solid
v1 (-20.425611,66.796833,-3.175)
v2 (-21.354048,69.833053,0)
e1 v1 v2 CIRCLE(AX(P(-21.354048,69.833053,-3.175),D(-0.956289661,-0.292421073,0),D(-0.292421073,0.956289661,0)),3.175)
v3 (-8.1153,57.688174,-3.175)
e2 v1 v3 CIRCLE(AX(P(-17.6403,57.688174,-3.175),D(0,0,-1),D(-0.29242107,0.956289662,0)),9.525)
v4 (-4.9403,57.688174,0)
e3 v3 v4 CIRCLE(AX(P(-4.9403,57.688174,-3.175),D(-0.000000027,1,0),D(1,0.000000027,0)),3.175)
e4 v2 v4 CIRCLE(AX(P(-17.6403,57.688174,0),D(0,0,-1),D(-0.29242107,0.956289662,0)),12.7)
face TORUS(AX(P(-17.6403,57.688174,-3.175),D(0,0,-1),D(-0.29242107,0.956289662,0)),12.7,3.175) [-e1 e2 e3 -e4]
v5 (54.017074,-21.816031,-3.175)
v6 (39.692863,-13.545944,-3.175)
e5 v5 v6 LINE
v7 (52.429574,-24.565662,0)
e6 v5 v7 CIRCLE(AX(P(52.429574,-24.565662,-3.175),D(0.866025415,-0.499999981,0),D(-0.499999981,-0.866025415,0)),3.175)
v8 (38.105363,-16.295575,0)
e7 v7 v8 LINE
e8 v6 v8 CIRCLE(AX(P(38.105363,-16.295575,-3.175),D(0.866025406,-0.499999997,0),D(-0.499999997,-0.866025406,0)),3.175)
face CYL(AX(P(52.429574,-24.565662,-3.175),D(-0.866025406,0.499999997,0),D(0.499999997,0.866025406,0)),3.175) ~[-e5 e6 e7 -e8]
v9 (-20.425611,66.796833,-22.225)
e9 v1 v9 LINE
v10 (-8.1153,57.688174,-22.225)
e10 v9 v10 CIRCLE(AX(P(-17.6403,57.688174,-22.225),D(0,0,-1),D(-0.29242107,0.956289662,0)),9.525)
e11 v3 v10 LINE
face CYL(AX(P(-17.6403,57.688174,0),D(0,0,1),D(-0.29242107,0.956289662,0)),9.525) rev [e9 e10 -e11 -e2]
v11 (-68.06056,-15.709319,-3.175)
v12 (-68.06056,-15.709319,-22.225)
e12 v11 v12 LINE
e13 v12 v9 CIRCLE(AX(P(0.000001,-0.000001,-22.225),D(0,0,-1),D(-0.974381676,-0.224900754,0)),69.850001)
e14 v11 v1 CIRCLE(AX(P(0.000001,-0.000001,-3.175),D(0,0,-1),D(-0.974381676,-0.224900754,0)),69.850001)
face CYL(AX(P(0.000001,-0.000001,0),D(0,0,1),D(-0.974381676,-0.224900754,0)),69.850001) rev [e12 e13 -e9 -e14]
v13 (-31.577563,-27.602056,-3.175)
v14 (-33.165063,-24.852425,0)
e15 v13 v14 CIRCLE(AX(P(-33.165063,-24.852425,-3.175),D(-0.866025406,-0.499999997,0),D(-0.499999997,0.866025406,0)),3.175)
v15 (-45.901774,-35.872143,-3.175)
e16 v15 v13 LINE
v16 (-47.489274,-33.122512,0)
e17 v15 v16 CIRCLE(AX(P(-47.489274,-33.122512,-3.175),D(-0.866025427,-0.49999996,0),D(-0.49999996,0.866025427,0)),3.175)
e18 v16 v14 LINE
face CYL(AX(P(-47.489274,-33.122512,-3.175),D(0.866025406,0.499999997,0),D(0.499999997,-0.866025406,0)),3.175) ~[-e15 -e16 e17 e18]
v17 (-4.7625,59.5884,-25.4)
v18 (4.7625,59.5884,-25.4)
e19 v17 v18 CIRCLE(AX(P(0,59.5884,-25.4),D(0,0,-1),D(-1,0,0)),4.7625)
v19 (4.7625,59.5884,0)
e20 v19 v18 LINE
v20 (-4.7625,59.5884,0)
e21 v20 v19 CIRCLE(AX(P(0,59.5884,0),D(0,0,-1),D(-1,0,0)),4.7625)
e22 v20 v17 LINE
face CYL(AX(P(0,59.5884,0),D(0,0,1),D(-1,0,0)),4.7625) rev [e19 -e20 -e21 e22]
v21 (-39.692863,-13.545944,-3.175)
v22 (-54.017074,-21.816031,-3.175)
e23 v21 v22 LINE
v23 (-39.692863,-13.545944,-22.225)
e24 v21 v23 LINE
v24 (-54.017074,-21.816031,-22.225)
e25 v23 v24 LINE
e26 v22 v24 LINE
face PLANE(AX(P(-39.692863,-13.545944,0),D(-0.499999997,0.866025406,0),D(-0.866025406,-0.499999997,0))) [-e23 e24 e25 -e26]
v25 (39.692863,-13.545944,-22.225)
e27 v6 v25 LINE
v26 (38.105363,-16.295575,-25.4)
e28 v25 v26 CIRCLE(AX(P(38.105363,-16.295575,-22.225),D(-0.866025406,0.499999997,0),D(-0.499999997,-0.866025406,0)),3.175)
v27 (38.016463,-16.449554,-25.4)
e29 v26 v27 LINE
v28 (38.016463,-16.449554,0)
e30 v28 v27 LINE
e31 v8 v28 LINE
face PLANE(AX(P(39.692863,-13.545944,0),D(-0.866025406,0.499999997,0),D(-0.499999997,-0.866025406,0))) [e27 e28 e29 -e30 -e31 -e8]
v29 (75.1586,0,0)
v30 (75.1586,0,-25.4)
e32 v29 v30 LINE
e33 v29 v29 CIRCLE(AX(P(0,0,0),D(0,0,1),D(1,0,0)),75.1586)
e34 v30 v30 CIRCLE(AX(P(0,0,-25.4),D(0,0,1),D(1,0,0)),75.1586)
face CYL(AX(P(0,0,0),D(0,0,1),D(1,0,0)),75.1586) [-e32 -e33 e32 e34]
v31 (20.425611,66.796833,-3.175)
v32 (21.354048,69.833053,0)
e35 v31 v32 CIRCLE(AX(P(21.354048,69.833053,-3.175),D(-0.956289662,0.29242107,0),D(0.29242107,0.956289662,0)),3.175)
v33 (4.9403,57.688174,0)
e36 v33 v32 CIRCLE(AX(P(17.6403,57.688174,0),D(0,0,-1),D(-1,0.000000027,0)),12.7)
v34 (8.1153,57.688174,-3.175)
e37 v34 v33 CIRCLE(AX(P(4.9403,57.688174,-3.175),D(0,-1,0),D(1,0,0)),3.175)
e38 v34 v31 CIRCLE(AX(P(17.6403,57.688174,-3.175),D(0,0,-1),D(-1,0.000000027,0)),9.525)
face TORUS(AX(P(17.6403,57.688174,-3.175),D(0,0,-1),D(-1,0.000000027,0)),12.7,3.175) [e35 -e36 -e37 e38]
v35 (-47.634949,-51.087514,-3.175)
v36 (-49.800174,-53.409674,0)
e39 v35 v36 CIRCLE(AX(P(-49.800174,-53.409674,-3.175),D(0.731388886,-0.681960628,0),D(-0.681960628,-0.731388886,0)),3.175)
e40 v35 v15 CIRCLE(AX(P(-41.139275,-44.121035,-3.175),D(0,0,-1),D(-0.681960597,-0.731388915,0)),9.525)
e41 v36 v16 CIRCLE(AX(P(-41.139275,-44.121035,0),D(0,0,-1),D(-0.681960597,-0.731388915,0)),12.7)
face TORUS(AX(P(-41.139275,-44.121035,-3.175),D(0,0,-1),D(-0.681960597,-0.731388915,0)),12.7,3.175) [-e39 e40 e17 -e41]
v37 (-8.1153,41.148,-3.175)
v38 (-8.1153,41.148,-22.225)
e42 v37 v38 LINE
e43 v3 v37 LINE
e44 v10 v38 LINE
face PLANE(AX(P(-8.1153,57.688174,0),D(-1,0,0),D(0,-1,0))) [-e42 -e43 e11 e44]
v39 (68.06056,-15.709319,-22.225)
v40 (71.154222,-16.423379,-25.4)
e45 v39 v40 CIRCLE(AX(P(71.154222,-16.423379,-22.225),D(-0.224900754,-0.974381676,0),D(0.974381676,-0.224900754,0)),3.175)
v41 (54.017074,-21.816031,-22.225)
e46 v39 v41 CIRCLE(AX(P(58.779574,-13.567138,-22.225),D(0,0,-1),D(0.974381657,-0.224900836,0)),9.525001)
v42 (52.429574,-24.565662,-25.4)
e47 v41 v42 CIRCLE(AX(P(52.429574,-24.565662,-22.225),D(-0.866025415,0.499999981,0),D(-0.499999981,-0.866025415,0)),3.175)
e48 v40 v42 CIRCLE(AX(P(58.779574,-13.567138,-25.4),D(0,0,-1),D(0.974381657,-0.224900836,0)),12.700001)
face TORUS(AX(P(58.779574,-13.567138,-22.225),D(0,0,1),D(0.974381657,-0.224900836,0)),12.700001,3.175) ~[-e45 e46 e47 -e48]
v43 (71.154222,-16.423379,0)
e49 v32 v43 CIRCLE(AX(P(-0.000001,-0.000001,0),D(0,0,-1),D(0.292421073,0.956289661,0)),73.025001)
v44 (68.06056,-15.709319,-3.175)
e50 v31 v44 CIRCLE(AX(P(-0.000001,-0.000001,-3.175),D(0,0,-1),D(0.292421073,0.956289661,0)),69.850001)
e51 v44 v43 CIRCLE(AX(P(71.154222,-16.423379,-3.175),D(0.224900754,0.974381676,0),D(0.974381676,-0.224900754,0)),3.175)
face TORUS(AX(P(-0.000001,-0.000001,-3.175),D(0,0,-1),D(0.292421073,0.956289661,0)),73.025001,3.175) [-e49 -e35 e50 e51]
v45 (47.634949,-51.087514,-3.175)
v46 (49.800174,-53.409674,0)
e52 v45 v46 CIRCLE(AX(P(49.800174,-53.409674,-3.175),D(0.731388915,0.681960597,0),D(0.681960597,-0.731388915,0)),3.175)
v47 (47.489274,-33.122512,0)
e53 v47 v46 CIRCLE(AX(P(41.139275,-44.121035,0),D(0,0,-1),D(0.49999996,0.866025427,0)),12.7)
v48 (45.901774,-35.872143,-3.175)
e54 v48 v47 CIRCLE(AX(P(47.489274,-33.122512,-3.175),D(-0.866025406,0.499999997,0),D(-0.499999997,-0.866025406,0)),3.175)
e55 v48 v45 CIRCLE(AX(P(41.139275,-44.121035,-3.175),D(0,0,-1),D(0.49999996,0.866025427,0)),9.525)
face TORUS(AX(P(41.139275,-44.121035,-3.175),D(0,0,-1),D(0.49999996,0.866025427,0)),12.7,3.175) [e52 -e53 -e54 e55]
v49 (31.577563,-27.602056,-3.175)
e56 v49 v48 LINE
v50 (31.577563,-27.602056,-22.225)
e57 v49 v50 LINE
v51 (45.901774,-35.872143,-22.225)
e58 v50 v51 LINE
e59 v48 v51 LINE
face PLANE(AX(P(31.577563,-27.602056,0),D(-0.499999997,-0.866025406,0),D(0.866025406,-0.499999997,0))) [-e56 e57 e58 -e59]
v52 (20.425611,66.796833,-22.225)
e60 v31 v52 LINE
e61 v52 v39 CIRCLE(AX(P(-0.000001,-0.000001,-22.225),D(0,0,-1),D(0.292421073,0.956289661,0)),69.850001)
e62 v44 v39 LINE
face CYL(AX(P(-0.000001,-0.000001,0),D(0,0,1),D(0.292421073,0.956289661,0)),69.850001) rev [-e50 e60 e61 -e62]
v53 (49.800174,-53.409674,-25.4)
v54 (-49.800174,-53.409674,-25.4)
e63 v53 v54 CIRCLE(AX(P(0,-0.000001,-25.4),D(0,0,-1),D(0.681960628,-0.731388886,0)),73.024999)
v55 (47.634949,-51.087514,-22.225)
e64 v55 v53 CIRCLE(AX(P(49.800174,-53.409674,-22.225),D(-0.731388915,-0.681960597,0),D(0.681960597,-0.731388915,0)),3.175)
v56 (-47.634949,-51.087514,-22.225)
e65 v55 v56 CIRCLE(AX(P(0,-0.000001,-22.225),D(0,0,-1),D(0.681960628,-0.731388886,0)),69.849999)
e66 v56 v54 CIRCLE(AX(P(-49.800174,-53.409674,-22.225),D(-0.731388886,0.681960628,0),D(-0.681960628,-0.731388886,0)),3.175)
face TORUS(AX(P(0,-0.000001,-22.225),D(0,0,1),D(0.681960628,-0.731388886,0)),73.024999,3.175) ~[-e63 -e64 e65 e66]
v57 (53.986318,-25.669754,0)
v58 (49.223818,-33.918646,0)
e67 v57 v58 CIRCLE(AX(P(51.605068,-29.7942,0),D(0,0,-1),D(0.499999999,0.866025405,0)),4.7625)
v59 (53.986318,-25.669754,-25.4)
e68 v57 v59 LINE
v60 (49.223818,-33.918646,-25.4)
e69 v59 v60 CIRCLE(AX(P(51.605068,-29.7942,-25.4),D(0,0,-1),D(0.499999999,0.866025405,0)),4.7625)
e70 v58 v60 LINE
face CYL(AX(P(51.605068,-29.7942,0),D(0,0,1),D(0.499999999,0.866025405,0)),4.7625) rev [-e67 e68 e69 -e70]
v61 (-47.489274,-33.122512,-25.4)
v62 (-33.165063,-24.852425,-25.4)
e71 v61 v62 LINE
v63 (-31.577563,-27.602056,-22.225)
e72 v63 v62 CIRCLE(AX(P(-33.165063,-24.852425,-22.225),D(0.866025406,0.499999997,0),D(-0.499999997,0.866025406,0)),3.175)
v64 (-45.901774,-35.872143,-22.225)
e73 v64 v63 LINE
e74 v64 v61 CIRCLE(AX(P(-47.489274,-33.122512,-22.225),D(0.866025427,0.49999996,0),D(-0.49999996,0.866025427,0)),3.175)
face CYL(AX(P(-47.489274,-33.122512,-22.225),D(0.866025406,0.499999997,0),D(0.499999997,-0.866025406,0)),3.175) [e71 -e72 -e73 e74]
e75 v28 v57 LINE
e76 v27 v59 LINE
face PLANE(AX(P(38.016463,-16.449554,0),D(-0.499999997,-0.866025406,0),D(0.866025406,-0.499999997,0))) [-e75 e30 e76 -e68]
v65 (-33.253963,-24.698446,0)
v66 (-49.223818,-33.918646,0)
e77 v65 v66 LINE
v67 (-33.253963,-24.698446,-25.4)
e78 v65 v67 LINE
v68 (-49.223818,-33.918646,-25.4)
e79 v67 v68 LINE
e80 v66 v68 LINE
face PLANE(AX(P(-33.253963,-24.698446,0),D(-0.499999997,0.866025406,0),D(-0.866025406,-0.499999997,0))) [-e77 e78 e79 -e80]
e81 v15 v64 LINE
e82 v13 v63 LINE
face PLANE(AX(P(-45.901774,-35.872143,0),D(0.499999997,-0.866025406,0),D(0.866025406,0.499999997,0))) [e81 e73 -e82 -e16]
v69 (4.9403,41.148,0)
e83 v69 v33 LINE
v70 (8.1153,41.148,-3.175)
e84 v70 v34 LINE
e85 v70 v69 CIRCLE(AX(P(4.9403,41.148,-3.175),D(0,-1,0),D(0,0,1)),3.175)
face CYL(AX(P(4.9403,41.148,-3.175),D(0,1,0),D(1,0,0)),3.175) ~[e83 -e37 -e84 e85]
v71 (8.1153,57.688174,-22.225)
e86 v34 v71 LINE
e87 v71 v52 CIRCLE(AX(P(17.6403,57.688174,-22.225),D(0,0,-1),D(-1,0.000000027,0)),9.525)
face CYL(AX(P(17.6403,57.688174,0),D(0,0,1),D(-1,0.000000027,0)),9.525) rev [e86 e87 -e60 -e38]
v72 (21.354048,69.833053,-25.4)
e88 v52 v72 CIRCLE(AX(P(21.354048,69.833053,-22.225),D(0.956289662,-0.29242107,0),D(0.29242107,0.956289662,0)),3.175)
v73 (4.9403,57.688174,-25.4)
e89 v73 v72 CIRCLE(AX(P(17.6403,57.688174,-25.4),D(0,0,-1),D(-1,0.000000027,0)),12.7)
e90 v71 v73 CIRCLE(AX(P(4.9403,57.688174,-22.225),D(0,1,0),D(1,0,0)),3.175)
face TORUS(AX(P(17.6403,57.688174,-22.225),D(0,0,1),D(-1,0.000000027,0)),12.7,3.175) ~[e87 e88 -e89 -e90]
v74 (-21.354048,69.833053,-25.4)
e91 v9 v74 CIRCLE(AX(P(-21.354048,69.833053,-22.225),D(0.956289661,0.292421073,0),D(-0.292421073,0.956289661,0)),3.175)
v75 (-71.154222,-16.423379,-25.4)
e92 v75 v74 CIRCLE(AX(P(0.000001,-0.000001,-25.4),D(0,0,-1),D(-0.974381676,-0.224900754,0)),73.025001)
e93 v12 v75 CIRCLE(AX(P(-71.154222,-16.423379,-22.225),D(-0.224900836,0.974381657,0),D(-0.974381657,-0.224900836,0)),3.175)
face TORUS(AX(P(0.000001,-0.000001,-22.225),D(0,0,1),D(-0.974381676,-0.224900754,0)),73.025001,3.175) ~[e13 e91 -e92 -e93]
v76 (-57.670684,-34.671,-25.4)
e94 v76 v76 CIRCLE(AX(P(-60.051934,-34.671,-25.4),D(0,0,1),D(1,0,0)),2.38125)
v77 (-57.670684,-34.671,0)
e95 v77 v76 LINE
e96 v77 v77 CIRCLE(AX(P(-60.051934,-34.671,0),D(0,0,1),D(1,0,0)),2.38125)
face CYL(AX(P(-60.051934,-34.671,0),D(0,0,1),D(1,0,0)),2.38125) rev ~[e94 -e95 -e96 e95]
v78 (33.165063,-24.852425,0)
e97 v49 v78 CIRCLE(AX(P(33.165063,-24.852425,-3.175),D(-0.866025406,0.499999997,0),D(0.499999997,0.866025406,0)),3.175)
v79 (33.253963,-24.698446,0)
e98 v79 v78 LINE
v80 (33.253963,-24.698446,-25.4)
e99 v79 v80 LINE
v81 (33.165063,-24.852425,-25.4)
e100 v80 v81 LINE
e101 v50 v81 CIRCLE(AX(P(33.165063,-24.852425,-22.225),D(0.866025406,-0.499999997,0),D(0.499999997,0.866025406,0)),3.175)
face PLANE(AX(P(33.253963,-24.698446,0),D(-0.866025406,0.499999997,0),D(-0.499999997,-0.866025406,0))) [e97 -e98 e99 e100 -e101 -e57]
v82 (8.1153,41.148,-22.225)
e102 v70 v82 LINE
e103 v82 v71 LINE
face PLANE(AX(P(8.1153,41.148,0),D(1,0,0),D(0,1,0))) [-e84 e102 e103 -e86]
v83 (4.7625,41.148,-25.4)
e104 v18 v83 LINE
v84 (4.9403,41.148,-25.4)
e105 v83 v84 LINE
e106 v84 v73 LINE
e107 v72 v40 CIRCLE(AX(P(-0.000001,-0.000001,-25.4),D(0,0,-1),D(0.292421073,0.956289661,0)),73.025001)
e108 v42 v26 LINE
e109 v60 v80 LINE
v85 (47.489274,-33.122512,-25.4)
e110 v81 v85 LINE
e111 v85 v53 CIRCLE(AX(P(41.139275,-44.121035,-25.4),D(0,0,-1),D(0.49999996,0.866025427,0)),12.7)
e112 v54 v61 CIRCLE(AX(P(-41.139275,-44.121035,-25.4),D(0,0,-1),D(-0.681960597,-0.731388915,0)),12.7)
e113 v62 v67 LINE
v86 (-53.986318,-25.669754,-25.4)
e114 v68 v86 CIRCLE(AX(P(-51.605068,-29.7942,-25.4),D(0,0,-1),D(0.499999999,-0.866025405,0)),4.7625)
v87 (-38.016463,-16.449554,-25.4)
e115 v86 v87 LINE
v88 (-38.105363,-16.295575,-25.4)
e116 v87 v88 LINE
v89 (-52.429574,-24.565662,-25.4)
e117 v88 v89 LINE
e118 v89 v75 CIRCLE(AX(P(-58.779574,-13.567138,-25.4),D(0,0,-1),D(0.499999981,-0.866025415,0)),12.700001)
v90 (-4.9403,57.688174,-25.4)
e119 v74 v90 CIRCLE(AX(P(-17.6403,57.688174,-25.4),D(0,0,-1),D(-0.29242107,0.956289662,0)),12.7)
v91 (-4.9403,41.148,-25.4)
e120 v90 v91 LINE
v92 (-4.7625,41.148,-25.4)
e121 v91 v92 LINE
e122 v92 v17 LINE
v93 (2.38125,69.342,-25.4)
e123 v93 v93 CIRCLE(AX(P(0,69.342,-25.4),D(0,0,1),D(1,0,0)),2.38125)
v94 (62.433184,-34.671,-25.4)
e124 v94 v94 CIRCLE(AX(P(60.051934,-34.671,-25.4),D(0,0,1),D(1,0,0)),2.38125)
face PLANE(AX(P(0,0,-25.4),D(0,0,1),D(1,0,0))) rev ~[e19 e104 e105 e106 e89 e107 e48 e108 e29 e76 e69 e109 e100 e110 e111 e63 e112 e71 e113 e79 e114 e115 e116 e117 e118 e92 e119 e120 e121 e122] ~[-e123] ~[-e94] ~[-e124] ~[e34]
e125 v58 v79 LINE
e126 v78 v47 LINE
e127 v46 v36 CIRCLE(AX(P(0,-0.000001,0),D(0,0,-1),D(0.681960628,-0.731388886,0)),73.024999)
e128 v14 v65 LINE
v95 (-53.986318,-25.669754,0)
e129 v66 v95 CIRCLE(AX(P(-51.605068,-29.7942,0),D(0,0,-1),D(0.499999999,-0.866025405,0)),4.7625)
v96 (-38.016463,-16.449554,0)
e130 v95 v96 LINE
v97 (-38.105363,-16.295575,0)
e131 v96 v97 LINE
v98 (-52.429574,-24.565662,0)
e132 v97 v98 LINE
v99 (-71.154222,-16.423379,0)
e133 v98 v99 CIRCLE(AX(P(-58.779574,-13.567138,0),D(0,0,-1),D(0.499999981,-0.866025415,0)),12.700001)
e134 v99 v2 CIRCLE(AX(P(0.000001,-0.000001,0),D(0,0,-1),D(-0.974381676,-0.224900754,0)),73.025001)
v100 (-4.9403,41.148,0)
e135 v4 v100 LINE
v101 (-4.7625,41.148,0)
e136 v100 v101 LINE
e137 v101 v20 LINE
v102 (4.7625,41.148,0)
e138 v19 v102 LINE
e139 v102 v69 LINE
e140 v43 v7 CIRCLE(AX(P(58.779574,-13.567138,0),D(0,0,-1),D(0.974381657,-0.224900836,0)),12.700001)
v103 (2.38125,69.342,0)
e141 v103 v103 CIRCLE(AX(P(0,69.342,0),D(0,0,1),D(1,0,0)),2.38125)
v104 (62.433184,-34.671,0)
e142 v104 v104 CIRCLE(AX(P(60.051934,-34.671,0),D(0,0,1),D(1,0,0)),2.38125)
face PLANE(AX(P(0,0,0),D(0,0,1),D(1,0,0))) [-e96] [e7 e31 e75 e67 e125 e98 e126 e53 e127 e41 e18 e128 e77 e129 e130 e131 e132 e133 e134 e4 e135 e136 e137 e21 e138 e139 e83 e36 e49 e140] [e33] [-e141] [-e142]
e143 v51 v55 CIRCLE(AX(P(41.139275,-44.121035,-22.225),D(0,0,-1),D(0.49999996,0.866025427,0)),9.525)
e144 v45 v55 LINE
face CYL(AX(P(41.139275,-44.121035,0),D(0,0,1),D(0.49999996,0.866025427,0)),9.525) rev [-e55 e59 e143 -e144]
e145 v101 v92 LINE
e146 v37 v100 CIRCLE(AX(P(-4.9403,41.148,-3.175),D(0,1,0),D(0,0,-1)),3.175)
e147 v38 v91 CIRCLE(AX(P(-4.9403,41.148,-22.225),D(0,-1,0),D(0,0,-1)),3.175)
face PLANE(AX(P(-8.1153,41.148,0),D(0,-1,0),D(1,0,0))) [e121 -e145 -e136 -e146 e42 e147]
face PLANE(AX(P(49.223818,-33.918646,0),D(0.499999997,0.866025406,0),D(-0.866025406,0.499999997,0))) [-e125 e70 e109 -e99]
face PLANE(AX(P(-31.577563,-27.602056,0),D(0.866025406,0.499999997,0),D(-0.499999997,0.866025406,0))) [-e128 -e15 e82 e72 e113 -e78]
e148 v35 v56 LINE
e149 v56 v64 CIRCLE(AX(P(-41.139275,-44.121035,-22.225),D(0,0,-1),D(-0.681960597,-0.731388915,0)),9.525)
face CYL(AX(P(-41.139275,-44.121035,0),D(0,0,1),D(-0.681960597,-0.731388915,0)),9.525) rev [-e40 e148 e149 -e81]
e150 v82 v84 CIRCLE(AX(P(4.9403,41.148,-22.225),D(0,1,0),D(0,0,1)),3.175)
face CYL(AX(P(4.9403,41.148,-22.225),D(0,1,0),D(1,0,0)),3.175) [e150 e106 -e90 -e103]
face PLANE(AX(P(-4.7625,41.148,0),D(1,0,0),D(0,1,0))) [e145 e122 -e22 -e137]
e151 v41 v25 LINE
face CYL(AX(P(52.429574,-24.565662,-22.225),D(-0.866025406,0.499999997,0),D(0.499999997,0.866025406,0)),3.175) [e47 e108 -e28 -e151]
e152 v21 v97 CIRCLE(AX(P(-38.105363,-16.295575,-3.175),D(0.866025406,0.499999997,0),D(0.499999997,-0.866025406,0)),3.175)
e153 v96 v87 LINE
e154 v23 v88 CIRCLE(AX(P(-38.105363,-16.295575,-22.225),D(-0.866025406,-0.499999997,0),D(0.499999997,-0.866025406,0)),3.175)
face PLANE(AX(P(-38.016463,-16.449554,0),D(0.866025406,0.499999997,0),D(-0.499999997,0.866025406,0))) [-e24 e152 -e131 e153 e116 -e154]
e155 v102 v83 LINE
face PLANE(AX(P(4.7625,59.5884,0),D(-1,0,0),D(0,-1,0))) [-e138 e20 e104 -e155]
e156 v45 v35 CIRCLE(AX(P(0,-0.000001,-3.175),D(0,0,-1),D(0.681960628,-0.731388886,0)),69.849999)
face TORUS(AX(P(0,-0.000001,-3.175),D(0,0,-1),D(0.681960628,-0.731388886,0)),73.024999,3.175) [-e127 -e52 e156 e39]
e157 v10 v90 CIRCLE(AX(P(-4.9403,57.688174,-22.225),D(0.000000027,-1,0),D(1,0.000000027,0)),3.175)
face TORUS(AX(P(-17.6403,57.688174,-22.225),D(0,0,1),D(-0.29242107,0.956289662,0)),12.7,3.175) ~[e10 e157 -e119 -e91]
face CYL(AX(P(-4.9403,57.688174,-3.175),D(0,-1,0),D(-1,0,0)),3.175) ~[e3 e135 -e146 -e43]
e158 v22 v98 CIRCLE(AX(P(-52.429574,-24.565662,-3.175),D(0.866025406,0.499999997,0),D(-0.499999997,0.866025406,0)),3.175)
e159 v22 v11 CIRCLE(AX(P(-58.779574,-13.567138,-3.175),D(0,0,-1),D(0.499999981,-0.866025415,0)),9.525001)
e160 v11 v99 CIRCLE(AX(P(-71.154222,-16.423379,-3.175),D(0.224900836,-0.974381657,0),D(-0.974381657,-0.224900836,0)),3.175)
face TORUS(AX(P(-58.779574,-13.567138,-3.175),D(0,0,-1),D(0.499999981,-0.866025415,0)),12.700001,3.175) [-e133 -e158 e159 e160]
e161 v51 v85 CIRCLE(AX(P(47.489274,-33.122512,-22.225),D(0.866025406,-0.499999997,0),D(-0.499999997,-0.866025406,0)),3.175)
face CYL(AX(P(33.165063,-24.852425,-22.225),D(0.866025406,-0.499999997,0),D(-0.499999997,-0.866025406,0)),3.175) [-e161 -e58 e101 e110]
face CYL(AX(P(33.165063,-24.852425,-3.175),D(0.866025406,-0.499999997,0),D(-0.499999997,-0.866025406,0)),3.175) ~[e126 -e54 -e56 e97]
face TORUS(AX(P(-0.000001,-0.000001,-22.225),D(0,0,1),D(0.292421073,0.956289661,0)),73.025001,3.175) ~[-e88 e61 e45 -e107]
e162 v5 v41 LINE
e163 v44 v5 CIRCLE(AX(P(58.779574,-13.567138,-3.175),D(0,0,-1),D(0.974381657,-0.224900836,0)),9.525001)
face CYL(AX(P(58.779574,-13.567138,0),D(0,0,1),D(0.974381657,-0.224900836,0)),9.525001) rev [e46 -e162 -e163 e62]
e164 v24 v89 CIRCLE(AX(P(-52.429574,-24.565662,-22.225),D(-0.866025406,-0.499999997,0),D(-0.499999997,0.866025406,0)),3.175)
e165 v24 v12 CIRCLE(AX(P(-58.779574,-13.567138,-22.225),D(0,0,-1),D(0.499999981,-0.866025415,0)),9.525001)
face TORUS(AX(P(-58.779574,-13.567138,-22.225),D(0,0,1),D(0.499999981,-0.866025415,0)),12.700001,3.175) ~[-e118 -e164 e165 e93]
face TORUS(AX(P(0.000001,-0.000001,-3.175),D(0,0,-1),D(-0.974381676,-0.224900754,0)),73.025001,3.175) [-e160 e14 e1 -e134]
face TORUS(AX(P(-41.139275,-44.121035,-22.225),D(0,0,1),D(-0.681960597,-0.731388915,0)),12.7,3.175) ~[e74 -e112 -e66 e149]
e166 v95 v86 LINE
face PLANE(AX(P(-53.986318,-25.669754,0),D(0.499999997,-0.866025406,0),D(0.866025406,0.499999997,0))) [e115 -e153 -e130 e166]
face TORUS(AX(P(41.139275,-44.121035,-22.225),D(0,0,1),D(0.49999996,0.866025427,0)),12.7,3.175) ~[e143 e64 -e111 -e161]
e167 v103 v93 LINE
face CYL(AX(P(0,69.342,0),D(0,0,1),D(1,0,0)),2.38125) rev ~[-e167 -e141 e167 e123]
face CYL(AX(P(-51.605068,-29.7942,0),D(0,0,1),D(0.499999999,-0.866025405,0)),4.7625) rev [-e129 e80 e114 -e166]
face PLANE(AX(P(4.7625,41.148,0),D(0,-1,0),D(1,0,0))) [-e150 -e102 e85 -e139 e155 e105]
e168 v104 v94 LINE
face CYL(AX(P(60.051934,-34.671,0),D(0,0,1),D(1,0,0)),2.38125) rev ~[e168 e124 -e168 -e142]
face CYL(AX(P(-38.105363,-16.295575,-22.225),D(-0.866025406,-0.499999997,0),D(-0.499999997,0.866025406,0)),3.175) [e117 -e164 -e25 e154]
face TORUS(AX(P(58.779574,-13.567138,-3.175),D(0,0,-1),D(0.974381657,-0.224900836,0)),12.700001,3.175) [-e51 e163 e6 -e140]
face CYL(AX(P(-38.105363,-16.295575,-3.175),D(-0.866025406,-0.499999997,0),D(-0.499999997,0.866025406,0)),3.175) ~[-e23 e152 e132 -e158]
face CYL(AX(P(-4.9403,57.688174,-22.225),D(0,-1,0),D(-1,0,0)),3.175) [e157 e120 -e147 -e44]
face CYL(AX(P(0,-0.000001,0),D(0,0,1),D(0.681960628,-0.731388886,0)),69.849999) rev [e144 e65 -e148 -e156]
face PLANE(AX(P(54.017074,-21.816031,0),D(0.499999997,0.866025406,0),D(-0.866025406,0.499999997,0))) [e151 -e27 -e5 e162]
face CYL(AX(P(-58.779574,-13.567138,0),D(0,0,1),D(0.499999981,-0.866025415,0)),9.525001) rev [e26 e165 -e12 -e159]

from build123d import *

# Parameters (mm, degrees)
F0_R     = 75.1586
F0_R_2   = 2.38125
F1_DEPTH = 25.4
F2_R     = 3.175


with BuildPart() as f1:
    # F0 (on Top) → F1 (new body)
    with BuildSketch(Plane.XY):
        Circle(F0_R)
        with Locations((-60.051934, -34.671)):
            Circle(F0_R_2, mode=Mode.SUBTRACT)
        with BuildLine():
            ThreePointArc((-68.06056, -15.709319), (-60.491874, 34.925), (-20.425611, 66.796833))
            ThreePointArc((-20.425611, 66.796833), (-11.974811, 65.345057), (-8.1153, 57.688174))
            Line((-8.1153, 57.688174), (-8.1153, 41.148))
            Line((-8.1153, 41.148), (-4.7625, 41.148))
            Line((-4.7625, 41.148), (-4.7625, 59.5884))
            ThreePointArc((-4.7625, 59.5884), (0, 64.3509), (4.7625, 59.5884))
            Line((4.7625, 59.5884), (4.7625, 41.148))
            Line((4.7625, 41.148), (8.1153, 41.148))
            Line((8.1153, 41.148), (8.1153, 57.688174))
            ThreePointArc((8.1153, 57.688174), (11.974811, 65.345057), (20.425611, 66.796833))
            ThreePointArc((20.425611, 66.796833), (60.491874, 34.925), (68.06056, -15.709319))
            ThreePointArc((68.06056, -15.709319), (62.577885, -22.302038), (54.017074, -21.816031))
            Line((54.017074, -21.816031), (39.692863, -13.545944))
            Line((39.692863, -13.545944), (38.016463, -16.449554))
            Line((38.016463, -16.449554), (53.986318, -25.669754))
            ThreePointArc((53.986318, -25.669754), (55.729514, -32.17545), (49.223818, -33.918646))
            Line((49.223818, -33.918646), (33.253963, -24.698446))
            Line((33.253963, -24.698446), (31.577563, -27.602056))
            Line((31.577563, -27.602056), (45.901774, -35.872143))
            ThreePointArc((45.901774, -35.872143), (50.603074, -43.043019), (47.634949, -51.087514))
            ThreePointArc((47.634949, -51.087514), (0, -69.85), (-47.634949, -51.087514))
            ThreePointArc((-47.634949, -51.087514), (-50.603074, -43.043019), (-45.901774, -35.872143))
            Line((-45.901774, -35.872143), (-31.577563, -27.602056))
            Line((-31.577563, -27.602056), (-33.253963, -24.698446))
            Line((-33.253963, -24.698446), (-49.223818, -33.918646))
            ThreePointArc((-49.223818, -33.918646), (-55.729514, -32.17545), (-53.986318, -25.669754))
            Line((-53.986318, -25.669754), (-38.016463, -16.449554))
            Line((-38.016463, -16.449554), (-39.692863, -13.545944))
            Line((-39.692863, -13.545944), (-54.017074, -21.816031))
            ThreePointArc((-54.017074, -21.816031), (-62.577885, -22.302038), (-68.06056, -15.709319))
        make_face(mode=Mode.SUBTRACT)
        with Locations((60.051934, -34.671)):
            Circle(F0_R_2, mode=Mode.SUBTRACT)
        with Locations((0, 69.342)):
            Circle(F0_R_2, mode=Mode.SUBTRACT)
    extrude(amount=-F1_DEPTH)

    # F2
    f2_edges = [f1.edges().sort_by_distance(p)[0] for p in [
        (-60.491874, 34.925, 0),
        (11.974811, 65.345057, 0),
        (0, -69.85, 0),
        (-60.491874, 34.925, -25.4),
        (0, -69.85, -25.4),
        (60.491874, 34.925, -25.4),
    ]]
    fillet(f2_edges, radius=F2_R)


solid = f1.part
